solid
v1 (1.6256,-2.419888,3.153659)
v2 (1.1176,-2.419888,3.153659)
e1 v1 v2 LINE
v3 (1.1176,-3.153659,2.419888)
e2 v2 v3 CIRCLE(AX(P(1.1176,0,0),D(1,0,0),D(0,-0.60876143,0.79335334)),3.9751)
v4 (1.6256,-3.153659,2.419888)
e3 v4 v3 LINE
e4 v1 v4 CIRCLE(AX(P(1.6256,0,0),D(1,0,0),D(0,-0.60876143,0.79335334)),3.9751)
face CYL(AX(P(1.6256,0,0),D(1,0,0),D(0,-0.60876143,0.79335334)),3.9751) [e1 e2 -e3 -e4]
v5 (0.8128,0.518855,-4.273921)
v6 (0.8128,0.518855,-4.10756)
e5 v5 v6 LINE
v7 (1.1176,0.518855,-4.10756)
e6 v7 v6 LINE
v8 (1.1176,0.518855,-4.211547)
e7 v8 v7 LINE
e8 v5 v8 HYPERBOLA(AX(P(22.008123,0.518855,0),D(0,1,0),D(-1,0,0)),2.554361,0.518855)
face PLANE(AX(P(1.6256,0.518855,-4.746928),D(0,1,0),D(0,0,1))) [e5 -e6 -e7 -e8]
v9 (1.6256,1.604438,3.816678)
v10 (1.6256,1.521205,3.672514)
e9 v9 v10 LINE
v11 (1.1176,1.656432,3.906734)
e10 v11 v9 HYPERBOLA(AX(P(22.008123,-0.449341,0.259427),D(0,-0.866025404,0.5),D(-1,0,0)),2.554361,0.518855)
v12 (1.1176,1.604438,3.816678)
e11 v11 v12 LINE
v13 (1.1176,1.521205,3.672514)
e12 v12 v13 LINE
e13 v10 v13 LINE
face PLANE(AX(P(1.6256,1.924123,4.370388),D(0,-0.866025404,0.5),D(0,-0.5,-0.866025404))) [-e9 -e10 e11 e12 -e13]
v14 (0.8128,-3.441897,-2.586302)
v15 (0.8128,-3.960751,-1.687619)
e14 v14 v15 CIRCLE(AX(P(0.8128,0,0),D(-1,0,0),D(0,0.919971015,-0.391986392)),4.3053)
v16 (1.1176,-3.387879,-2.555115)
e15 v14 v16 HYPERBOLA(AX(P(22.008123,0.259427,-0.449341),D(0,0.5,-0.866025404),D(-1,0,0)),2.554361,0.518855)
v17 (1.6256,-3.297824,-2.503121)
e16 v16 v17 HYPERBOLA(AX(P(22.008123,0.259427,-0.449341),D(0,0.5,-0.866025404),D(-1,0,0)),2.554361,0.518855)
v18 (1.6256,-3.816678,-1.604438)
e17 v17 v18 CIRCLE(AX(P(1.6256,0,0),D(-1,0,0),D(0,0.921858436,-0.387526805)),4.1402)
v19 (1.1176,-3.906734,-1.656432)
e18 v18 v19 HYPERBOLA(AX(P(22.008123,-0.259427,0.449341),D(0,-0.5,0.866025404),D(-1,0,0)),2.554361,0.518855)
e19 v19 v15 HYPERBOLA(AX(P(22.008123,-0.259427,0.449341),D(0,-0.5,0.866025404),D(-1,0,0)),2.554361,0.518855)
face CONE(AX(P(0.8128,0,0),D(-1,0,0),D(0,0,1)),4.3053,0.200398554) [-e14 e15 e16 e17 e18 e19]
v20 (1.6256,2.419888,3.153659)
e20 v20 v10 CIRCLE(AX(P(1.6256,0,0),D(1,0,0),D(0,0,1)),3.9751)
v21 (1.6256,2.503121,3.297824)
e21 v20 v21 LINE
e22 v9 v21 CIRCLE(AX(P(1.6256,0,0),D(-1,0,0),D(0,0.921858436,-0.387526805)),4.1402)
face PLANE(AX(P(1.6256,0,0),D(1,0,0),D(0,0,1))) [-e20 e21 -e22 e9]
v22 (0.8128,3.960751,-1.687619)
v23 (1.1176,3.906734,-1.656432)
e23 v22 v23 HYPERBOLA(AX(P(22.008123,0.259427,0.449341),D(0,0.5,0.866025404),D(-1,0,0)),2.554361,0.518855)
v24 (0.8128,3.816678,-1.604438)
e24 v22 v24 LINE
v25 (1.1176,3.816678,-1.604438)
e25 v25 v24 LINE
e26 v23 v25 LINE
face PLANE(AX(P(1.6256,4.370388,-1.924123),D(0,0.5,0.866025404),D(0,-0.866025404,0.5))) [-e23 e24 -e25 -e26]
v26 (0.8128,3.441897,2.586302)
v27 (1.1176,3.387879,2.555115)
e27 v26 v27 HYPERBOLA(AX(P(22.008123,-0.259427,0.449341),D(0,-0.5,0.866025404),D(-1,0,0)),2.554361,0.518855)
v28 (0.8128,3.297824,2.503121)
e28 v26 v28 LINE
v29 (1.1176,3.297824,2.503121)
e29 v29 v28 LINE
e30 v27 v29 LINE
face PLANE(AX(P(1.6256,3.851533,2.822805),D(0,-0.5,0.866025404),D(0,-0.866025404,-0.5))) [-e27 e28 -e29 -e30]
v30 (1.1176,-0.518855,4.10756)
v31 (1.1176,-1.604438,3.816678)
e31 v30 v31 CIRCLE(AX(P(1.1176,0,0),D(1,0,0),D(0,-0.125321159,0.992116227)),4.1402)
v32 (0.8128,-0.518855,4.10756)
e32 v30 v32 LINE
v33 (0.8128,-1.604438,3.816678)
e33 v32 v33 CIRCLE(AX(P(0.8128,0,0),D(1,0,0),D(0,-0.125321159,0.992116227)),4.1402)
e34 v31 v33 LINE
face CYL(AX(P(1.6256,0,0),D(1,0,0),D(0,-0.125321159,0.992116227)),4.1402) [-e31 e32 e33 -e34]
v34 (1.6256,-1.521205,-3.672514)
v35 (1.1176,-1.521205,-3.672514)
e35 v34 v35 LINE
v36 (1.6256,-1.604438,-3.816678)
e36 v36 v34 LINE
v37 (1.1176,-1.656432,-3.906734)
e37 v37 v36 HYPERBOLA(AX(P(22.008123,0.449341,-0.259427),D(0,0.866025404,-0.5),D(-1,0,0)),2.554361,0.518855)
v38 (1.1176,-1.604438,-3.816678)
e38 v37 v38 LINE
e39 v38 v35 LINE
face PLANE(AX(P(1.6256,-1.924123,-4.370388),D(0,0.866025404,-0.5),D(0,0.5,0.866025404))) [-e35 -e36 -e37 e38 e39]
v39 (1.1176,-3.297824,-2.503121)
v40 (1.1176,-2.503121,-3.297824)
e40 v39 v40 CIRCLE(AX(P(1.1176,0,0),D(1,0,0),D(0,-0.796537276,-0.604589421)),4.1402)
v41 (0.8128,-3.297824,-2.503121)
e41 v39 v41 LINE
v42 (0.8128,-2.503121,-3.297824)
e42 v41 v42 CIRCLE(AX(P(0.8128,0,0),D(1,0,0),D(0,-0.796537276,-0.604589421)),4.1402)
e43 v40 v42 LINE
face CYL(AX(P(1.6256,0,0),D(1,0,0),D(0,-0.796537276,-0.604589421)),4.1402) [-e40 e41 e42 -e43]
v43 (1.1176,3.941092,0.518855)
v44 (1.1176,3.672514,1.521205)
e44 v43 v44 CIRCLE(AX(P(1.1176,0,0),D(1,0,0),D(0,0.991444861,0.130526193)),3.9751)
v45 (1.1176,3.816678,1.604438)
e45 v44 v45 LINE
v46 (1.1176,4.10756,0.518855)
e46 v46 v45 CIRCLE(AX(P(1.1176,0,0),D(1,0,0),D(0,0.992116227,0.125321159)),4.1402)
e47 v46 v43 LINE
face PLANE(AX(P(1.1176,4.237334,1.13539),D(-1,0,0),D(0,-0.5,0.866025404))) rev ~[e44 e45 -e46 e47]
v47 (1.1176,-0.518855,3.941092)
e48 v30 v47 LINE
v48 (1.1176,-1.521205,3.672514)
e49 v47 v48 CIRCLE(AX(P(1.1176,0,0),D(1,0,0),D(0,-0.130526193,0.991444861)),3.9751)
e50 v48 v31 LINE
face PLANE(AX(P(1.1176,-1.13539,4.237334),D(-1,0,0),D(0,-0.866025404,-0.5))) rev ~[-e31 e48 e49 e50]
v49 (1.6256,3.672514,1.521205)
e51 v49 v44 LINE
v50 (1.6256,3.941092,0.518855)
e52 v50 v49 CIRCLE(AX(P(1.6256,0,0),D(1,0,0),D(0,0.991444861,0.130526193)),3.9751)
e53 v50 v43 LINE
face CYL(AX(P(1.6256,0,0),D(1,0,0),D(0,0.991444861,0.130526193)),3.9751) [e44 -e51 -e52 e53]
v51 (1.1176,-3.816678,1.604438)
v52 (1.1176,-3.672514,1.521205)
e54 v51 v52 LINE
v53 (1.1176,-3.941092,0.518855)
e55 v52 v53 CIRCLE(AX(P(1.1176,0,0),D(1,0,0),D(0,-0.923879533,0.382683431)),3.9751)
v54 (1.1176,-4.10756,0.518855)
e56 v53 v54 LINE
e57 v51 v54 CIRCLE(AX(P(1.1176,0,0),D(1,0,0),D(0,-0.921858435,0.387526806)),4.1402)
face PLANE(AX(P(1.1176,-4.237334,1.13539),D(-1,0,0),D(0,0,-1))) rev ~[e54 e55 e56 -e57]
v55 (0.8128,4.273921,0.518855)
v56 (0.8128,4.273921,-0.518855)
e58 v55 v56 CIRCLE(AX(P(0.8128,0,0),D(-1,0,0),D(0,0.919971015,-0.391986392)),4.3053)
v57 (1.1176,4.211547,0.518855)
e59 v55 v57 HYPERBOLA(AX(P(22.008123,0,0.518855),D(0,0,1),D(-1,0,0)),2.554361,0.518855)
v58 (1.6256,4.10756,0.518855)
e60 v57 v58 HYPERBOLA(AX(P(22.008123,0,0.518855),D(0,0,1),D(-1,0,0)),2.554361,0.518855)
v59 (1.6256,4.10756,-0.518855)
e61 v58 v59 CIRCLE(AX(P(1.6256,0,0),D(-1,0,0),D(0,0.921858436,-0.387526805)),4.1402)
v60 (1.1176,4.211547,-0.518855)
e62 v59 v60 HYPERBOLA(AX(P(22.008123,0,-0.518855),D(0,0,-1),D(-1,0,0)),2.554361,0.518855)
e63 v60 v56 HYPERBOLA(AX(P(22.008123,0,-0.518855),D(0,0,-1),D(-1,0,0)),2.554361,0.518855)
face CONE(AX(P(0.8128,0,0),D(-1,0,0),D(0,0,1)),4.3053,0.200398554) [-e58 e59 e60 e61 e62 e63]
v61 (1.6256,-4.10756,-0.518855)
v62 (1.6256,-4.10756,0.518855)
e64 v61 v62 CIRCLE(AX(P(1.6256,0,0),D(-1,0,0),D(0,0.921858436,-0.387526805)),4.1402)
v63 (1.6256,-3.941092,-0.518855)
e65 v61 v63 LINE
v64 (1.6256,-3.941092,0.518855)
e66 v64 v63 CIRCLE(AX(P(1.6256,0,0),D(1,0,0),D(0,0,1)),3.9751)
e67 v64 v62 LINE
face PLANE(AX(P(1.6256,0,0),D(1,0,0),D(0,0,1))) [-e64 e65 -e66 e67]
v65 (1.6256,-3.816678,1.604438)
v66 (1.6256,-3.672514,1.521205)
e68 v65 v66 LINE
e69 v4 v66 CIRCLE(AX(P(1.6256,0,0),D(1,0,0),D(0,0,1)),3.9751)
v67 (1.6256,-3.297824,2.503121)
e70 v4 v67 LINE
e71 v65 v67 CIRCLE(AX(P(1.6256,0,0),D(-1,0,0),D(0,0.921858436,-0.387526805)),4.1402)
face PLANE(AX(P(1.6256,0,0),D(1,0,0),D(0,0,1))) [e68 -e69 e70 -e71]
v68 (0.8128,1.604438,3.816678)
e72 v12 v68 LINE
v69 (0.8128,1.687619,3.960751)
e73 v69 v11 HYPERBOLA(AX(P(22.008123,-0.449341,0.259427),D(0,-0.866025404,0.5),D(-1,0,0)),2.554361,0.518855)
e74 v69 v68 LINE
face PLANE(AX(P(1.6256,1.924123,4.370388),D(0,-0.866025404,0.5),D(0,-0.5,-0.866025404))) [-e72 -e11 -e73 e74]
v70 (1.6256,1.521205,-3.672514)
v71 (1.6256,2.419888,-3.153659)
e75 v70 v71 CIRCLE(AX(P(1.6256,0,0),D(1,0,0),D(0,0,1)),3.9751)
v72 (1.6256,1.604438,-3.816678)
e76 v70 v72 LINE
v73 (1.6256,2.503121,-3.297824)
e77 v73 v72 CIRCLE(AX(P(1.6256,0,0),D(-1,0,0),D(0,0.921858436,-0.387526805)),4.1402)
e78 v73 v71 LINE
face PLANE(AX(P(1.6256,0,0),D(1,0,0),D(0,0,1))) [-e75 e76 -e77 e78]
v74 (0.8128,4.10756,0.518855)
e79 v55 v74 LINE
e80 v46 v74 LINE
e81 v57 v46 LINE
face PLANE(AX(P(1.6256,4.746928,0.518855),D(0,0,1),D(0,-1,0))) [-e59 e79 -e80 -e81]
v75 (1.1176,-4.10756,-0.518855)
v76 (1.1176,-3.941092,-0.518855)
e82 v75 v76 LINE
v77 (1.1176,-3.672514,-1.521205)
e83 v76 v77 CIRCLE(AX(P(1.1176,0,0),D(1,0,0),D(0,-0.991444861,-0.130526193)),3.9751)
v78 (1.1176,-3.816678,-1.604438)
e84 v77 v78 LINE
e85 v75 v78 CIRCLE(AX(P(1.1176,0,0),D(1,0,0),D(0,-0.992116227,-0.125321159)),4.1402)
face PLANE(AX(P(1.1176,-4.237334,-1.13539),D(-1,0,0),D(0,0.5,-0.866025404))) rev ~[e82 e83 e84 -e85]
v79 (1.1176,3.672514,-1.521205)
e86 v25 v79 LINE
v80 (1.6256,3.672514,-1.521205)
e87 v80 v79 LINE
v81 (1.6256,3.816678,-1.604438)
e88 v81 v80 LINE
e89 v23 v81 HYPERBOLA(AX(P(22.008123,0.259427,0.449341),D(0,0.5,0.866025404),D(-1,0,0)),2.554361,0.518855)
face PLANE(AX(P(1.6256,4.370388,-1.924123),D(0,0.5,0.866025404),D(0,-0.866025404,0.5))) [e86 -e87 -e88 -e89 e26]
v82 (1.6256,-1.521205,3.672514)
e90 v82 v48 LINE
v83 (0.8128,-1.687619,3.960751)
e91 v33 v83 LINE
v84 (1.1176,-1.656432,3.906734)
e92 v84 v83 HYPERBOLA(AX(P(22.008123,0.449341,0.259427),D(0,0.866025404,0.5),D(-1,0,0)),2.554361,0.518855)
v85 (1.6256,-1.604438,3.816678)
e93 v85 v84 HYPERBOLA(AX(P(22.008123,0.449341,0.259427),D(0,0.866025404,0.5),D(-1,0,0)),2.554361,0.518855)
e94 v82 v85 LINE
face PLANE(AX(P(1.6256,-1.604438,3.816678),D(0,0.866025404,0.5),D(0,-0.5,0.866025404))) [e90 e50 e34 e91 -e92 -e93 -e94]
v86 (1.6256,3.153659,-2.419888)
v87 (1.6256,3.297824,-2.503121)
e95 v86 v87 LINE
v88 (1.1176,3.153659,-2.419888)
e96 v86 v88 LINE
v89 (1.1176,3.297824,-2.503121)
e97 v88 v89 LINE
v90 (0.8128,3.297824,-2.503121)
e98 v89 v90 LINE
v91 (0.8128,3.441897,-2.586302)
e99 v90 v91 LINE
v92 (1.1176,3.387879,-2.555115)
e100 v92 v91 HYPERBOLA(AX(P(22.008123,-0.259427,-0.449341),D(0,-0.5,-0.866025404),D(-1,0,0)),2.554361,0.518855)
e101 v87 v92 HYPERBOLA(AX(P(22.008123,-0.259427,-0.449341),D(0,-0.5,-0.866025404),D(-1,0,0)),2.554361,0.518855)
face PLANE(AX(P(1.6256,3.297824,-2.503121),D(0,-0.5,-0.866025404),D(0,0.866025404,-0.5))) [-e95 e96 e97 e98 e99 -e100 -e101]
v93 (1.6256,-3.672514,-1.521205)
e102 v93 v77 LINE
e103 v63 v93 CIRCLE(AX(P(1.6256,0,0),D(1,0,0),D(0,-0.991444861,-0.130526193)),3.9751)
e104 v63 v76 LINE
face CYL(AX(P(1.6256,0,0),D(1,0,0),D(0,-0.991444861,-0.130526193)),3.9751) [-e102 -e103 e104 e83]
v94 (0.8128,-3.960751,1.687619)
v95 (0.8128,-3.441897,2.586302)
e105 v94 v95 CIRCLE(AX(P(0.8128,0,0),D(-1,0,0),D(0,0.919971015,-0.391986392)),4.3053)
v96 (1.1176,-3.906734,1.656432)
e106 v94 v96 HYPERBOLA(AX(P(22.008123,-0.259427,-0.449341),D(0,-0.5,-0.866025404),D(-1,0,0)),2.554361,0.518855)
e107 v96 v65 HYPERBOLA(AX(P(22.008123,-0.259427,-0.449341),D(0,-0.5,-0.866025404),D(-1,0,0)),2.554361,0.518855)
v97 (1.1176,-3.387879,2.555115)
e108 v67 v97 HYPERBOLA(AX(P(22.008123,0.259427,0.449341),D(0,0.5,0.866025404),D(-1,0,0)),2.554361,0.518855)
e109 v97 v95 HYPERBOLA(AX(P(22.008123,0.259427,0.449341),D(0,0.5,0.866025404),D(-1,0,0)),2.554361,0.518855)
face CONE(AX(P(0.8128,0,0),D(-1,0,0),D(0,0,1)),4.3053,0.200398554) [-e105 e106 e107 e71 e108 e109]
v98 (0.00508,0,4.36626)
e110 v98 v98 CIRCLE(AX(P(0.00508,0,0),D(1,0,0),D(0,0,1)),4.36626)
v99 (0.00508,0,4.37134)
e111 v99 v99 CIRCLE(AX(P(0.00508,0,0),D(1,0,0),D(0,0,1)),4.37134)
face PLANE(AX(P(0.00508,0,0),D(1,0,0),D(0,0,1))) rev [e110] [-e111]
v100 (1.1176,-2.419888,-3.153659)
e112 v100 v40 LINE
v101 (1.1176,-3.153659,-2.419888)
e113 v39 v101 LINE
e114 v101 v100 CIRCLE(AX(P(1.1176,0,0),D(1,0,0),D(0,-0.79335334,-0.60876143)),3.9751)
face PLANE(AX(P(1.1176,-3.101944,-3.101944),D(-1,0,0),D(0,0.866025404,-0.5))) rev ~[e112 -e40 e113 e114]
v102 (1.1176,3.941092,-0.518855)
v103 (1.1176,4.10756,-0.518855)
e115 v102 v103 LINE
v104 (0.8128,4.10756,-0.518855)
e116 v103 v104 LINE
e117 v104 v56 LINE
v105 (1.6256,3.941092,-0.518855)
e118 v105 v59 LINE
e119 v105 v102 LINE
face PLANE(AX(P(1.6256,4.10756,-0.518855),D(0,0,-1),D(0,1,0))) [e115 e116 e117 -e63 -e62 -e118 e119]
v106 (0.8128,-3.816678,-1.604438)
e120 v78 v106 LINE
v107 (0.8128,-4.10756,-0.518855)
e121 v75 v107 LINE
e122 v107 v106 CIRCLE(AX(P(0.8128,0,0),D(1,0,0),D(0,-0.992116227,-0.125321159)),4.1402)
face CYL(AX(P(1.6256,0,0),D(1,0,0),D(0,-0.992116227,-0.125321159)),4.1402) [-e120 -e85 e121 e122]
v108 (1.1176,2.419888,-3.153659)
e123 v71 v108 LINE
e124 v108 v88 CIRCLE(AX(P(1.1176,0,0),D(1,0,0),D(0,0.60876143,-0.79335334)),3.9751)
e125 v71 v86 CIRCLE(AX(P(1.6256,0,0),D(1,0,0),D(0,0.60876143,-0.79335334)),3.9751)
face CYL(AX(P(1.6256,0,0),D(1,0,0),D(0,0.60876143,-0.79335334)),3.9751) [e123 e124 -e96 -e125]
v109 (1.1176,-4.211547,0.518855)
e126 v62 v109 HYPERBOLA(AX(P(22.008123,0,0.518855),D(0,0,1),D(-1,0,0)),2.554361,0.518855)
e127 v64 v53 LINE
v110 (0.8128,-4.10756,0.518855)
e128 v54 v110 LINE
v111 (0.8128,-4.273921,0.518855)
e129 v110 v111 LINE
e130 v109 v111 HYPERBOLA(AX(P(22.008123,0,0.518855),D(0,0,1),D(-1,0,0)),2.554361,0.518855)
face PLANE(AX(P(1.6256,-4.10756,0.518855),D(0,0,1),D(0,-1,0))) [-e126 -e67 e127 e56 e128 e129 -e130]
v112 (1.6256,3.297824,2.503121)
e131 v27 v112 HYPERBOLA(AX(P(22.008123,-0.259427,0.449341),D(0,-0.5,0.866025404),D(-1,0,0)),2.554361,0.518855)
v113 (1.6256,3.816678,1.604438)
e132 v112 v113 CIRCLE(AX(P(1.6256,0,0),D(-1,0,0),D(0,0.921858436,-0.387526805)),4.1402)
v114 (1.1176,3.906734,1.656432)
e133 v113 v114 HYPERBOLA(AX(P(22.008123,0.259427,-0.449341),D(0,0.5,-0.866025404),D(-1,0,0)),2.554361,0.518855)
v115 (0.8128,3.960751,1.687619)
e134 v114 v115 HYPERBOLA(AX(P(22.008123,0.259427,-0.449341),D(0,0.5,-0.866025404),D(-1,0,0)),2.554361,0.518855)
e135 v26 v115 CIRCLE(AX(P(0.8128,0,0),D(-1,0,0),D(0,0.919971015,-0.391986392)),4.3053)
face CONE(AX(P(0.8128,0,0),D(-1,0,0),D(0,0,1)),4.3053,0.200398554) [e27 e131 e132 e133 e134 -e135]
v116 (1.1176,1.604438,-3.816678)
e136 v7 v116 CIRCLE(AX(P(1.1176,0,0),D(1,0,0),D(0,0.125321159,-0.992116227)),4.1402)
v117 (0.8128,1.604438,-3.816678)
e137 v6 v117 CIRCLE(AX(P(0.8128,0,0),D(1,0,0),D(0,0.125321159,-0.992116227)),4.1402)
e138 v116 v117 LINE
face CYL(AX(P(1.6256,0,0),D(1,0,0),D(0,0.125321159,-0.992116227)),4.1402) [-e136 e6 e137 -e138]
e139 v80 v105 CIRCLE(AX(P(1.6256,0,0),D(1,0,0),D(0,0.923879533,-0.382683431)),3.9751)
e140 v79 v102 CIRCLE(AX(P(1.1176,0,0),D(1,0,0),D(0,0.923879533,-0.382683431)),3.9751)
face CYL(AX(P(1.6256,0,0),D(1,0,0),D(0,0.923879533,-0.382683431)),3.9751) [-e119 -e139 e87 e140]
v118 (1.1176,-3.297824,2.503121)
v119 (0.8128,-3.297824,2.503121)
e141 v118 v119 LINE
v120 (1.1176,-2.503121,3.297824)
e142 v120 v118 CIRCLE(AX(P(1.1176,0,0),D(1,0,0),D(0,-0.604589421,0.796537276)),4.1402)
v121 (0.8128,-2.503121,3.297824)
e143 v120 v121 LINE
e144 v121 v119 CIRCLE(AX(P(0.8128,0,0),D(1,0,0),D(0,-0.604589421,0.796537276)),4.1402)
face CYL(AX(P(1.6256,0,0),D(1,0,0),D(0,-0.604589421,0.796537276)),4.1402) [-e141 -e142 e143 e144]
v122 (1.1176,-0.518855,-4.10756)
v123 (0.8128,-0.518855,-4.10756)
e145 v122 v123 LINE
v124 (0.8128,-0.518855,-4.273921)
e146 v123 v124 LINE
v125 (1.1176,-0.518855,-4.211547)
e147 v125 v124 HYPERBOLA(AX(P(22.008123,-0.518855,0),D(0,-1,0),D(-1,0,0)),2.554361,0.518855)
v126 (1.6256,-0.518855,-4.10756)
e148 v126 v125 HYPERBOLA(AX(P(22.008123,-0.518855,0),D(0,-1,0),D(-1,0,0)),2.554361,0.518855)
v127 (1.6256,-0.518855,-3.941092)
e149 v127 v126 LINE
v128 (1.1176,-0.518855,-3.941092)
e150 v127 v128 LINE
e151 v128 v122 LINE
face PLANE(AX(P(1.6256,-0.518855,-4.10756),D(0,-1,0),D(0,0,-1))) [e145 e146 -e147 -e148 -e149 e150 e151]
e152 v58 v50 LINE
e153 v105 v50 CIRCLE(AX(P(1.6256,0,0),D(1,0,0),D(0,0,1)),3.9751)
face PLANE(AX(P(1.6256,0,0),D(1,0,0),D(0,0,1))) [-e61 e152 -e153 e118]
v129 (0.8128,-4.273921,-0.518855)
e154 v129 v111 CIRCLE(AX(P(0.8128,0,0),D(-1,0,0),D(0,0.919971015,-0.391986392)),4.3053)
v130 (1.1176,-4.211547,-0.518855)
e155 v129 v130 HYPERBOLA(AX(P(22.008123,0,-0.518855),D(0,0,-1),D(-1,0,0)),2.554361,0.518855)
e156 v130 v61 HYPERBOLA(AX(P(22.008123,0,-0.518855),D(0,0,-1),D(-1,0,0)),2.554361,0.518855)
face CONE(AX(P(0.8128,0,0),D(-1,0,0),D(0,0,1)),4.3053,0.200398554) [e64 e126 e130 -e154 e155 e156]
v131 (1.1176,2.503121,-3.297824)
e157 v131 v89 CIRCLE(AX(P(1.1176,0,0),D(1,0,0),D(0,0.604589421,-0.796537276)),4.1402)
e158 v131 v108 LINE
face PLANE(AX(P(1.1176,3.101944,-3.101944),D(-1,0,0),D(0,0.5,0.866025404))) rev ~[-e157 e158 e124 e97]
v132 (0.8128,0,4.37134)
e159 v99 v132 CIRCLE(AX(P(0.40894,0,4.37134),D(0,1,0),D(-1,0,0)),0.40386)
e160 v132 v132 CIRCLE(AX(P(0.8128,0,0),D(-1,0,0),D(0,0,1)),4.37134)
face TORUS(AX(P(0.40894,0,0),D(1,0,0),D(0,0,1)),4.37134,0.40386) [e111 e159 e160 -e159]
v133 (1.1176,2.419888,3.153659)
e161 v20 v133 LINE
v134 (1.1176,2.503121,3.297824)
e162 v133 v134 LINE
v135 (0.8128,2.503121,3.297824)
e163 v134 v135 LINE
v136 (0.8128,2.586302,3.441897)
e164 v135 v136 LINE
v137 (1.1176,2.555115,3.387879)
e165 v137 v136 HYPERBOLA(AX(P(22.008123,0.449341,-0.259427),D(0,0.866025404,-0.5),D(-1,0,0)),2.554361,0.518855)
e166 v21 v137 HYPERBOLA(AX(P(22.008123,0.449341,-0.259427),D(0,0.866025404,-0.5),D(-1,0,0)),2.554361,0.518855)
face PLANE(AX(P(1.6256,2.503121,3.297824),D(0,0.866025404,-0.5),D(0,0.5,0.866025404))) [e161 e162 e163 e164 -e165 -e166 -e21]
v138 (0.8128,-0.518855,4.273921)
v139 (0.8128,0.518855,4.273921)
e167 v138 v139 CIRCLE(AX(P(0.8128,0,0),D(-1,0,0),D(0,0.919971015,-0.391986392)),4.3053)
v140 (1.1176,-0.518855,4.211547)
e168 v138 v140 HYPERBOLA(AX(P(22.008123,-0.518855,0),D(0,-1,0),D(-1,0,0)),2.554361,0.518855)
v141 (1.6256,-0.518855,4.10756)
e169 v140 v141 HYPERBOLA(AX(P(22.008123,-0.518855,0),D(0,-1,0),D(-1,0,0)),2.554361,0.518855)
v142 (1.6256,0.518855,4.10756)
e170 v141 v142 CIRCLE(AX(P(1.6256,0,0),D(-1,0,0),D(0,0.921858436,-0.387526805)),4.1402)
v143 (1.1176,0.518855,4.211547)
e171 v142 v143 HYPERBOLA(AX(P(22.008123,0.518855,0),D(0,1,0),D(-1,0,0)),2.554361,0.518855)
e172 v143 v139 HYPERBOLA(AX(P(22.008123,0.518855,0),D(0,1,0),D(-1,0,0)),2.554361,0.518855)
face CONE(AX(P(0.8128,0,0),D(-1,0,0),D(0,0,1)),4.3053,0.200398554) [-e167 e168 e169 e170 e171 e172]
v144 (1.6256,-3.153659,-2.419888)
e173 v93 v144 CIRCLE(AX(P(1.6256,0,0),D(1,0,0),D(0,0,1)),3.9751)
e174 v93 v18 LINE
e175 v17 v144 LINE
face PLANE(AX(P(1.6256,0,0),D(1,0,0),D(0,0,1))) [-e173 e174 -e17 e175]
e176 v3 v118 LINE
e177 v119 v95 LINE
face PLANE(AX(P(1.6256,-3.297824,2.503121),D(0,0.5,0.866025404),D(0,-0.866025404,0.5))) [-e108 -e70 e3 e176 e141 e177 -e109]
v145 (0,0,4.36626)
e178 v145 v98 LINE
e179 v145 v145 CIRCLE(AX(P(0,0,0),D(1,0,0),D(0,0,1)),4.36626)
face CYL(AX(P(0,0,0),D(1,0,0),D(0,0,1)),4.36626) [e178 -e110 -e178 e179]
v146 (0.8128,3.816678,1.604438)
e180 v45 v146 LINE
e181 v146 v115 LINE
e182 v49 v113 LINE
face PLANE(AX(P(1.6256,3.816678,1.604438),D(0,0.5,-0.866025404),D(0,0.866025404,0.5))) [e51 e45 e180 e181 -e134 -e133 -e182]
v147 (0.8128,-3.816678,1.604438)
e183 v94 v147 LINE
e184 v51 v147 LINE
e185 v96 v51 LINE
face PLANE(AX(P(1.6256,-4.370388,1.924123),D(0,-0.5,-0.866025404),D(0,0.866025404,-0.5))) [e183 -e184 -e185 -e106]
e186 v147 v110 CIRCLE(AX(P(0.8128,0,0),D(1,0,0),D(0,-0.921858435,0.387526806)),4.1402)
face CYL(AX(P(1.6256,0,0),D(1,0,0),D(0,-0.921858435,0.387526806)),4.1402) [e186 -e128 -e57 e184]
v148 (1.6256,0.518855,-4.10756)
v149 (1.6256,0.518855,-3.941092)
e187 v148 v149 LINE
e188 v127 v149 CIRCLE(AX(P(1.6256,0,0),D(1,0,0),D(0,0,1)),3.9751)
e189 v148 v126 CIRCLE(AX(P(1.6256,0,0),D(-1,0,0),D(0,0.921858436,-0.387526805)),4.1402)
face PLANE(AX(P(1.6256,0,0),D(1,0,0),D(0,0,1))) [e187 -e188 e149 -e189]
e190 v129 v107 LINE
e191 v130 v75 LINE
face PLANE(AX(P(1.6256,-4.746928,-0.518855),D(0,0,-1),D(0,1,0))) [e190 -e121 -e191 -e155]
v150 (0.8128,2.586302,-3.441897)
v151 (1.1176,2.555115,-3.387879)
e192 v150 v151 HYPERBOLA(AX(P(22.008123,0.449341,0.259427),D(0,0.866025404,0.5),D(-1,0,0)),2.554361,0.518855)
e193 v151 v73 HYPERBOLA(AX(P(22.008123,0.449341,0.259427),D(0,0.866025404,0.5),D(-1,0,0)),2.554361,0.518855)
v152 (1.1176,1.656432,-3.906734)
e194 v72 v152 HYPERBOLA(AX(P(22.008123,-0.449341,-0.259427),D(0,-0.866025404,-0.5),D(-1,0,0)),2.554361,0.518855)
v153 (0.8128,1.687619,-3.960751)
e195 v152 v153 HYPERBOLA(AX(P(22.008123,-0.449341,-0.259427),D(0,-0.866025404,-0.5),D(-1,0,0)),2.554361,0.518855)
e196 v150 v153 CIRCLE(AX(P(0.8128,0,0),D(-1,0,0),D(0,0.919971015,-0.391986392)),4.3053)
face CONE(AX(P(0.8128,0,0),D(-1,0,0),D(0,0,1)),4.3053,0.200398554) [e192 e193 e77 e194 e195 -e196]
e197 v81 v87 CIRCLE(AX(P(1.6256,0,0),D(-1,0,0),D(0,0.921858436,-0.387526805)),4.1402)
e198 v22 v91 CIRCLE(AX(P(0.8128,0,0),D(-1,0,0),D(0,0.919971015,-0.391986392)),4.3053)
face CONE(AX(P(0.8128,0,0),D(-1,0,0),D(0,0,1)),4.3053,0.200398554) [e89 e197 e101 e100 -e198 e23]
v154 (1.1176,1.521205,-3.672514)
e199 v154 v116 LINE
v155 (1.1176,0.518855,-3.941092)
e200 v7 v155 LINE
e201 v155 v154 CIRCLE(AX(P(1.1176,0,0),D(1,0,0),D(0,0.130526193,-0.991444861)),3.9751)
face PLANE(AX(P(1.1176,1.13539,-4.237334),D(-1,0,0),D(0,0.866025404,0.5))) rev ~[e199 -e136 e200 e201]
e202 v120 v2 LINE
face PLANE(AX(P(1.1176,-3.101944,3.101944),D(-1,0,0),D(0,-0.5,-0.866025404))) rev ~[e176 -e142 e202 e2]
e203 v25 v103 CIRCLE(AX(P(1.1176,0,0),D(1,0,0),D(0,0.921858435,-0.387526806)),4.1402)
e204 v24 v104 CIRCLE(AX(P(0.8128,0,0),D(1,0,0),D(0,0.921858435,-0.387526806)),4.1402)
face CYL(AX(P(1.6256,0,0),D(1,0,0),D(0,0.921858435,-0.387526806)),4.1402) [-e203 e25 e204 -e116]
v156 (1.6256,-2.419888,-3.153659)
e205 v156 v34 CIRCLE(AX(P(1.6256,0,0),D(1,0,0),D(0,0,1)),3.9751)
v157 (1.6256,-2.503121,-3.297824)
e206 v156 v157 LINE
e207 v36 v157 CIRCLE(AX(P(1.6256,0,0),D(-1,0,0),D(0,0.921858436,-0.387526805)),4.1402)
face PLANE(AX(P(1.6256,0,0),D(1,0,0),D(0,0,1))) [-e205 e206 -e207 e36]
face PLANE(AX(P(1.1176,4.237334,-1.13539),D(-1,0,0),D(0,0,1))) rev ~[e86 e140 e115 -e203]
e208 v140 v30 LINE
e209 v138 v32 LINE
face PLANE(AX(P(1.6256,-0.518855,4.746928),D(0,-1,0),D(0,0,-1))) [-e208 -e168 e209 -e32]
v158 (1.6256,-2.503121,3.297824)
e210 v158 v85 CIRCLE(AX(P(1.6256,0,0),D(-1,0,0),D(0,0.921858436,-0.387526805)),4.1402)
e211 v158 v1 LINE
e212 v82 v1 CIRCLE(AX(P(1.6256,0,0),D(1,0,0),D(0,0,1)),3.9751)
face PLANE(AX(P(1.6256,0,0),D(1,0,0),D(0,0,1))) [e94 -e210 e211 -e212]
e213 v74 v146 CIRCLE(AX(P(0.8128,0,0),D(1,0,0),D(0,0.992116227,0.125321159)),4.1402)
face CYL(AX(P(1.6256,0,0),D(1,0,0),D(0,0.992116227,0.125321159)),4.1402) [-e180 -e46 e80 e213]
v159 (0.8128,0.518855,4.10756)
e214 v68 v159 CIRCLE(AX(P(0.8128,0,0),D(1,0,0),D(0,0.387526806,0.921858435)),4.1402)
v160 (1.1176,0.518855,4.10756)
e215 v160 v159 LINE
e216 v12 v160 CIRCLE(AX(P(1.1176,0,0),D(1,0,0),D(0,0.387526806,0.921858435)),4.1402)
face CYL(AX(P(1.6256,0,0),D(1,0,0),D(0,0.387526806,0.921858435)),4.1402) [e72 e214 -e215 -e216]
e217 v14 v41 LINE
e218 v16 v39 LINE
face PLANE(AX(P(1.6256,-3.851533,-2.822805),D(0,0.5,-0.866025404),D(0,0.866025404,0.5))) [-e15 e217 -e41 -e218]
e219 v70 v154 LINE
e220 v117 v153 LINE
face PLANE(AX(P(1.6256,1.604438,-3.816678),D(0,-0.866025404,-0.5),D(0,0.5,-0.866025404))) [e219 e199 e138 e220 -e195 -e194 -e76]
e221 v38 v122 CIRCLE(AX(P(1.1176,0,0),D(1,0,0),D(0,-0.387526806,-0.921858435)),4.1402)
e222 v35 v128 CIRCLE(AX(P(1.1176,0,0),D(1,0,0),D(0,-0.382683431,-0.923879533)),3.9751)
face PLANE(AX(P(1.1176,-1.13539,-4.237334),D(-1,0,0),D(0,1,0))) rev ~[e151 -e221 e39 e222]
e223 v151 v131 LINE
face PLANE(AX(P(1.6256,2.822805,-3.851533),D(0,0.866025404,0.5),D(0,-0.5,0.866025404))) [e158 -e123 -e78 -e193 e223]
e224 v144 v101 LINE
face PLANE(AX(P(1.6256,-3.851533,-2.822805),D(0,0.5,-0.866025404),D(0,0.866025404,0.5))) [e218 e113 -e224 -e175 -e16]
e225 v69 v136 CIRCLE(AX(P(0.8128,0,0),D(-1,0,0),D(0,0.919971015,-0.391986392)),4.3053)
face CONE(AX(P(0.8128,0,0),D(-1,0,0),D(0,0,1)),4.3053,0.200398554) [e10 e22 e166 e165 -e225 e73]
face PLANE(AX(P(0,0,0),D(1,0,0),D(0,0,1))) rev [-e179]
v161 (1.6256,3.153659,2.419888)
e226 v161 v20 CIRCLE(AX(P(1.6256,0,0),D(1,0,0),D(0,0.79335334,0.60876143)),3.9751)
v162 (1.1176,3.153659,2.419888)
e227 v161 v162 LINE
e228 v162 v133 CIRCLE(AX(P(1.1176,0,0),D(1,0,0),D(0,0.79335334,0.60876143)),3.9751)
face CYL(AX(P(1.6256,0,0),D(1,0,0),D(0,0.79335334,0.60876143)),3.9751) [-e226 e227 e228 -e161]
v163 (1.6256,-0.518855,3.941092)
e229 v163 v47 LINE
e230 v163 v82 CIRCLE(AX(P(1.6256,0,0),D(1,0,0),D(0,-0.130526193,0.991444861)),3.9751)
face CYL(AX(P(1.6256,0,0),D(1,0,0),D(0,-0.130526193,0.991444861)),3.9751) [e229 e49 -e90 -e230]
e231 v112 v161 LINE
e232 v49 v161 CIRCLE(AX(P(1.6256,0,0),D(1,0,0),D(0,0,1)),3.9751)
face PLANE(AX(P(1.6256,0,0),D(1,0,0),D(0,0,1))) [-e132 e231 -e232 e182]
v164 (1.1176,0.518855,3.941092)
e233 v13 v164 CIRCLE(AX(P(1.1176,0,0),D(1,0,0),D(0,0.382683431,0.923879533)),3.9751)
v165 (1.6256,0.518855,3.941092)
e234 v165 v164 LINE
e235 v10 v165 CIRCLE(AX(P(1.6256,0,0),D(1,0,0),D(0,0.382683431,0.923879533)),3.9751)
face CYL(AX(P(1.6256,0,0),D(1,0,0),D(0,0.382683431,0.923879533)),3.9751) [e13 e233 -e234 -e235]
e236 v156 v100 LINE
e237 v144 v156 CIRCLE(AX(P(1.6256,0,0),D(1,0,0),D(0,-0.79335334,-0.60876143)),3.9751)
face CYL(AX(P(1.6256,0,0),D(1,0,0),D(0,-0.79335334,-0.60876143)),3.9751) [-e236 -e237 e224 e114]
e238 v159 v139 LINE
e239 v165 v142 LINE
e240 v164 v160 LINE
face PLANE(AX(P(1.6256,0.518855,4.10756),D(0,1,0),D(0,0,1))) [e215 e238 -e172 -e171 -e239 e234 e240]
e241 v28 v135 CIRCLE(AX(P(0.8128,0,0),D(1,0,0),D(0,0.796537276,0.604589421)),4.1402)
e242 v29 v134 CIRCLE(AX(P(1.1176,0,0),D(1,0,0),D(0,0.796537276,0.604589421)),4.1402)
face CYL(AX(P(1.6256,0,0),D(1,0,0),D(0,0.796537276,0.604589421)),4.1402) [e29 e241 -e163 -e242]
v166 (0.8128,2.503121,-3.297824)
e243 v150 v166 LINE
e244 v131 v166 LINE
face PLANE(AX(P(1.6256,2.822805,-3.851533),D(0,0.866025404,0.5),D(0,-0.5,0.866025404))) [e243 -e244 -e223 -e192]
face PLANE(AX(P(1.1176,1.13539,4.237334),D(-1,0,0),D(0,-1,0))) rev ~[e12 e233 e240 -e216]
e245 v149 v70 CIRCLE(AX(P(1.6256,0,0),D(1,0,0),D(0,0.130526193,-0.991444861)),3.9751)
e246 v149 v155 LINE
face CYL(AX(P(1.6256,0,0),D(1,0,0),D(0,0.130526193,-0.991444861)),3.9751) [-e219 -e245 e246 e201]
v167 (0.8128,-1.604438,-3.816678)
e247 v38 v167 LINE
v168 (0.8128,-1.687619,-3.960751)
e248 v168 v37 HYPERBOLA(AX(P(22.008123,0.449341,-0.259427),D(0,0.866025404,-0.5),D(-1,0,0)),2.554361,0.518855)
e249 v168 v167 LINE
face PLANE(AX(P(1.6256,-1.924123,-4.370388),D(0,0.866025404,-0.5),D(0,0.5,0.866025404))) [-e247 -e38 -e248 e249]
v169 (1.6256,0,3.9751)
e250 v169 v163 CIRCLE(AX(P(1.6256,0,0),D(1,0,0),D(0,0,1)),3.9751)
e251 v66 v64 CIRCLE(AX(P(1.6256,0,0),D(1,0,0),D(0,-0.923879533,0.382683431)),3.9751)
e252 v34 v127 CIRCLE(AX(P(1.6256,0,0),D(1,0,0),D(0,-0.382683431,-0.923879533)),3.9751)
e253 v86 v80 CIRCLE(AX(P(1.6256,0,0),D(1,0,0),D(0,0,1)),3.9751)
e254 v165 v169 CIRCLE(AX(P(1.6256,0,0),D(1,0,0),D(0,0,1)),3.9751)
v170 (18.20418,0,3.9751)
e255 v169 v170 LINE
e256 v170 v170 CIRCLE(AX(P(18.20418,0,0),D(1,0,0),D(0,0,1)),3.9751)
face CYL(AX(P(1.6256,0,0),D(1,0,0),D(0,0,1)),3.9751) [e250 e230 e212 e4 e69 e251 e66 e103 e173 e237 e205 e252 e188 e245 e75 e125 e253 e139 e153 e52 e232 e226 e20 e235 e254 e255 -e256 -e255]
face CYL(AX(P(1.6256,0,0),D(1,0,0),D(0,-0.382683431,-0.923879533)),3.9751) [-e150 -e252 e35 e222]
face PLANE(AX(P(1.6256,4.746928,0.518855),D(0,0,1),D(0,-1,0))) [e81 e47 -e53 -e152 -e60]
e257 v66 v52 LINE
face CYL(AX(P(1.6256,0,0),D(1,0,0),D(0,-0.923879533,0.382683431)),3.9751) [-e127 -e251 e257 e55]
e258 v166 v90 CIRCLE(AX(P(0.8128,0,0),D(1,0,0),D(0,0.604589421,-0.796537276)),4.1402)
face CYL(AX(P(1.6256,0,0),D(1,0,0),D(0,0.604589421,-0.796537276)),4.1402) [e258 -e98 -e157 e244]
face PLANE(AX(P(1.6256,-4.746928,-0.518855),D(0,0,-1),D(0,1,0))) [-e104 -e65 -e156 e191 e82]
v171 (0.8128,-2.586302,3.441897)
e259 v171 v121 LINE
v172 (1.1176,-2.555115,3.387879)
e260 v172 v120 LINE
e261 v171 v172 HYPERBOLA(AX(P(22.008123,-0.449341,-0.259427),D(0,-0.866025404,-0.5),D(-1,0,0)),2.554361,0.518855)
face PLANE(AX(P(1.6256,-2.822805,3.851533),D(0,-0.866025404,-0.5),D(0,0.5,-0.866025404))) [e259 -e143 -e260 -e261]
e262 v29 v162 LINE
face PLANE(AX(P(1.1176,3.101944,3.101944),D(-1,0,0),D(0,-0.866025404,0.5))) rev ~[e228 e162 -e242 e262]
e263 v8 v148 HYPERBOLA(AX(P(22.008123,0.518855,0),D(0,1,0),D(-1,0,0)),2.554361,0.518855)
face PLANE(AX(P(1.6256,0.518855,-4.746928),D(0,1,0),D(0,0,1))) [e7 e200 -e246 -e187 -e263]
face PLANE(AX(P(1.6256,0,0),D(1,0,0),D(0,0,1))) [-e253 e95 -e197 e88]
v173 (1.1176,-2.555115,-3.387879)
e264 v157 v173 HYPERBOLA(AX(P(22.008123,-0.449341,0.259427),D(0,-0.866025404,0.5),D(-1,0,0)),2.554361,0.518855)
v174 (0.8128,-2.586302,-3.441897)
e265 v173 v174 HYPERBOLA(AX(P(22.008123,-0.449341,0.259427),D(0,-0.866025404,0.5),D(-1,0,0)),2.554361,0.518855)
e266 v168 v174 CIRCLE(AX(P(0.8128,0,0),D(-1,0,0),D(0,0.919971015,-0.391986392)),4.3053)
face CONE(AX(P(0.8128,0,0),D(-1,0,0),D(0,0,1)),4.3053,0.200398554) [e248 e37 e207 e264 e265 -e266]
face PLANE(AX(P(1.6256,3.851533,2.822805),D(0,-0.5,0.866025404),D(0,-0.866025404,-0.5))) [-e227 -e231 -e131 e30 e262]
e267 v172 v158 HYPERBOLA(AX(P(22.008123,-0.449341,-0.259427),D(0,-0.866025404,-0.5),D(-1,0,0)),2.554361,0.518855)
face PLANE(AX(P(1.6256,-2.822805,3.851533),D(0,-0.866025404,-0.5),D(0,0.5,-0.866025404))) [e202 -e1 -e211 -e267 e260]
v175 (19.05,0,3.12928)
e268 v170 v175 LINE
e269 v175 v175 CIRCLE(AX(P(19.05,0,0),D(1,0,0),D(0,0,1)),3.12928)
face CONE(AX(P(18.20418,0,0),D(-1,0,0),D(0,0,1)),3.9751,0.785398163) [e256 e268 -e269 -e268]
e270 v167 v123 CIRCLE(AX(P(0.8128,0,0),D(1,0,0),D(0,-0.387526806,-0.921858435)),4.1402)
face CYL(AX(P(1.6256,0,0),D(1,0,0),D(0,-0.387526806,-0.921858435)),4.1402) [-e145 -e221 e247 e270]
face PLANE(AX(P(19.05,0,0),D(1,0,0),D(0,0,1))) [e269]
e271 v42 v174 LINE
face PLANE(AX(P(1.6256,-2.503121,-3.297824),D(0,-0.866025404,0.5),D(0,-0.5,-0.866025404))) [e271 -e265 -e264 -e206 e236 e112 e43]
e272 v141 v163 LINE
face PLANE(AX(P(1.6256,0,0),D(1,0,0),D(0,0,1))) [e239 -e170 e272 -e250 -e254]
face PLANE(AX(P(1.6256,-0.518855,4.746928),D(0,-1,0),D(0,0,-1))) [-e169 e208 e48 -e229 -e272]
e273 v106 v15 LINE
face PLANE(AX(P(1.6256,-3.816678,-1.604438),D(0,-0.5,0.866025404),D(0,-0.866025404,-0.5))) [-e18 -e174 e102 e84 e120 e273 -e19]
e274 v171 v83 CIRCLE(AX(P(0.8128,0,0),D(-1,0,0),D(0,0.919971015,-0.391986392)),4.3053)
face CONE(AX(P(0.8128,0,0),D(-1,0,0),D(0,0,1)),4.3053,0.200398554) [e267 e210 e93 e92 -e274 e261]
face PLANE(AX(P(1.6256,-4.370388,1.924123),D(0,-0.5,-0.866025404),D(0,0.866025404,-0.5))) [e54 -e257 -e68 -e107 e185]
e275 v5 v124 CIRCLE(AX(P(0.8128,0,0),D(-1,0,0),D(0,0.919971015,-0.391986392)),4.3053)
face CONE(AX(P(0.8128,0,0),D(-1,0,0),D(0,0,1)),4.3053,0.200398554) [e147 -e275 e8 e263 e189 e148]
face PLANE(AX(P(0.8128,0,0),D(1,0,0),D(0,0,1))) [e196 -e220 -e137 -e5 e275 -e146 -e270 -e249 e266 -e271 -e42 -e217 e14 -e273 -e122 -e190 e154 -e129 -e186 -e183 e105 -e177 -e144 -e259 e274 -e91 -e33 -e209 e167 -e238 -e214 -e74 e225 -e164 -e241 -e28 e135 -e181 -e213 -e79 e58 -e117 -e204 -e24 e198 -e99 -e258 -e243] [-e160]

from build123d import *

# Parameters (mm, degrees)
RIBCUT1_DEPTH    = 0.508
RIBCUT2_DEPTH    = 0.8128
RIBCUTSPAT_COUNT = 12
RIBCUTSPAT_ANGLE = 330


with BuildPart() as part:
    # BodySke → BaseBody (revolve)
    with BuildSketch(Plane.XY, mode=Mode.PRIVATE) as basebody_sk:
        with BuildLine():
            Line((0, 0), (0, 4.36626))
            Line((0, 4.36626), (0.00508, 4.36626))
            Line((0.00508, 4.36626), (0.00508, 4.37134))
            ThreePointArc((0.00508, 4.37134), (0.40894, 4.7752), (0.8128, 4.37134))
            Line((0.8128, 4.37134), (0.8128, 4.3053))
            Line((0.8128, 4.3053), (1.6256, 4.1402))
            Line((1.6256, 4.1402), (1.6256, 3.9751))
            Line((1.6256, 3.9751), (18.20418, 3.9751))
            Line((18.20418, 3.9751), (19.05, 3.12928))
            Line((19.05, 3.12928), (19.05, 0))
            Line((19.05, 0), (0, 0))
        make_face()
    revolve(basebody_sk.sketch.rotate(Axis((0, 0, 0), (1, 0, 0)), 90), axis=Axis((0, 0, 0), (1, 0, 0)))

    # RibCut1Ske → RibCut1 (cut)
    with BuildSketch(Plane(origin=(1.6256, 0, 0), x_dir=(0, 0, -1), z_dir=(1, 0, 0))):
        with BuildLine():
            Line((0.518854667, 3.941092468), (0.518854667, 4.746927941))
            ThreePointArc((0.518854667, 4.746927941), (1.235912704, 4.612489006), (1.924122648, 4.37038752))
            Line((1.924122648, 4.37038752), (1.521204912, 3.67251353))
            ThreePointArc((1.521204912, 3.67251353), (1.028831586, 3.839651752), (0.518854667, 3.941092468))
        make_face()
    ribcut1 = extrude(amount=-RIBCUT1_DEPTH, mode=Mode.SUBTRACT)

    # RibCut2Ske → RibCut2 (cut)
    with BuildSketch(Plane(origin=(1.6256, 0, 0), x_dir=(0, 0, -1), z_dir=(1, 0, 0))):
        with BuildLine():
            Line((0.518854667, 4.107559601), (0.518854667, 4.746927941))
            ThreePointArc((0.518854667, 4.746927941), (1.235912704, 4.612489006), (1.924122648, 4.37038752))
            Line((1.924122648, 4.37038752), (1.604438478, 3.816678295))
            ThreePointArc((1.604438478, 3.816678295), (1.071562611, 3.999126106), (0.518854667, 4.107559601))
        make_face()
    ribcut2 = extrude(amount=-RIBCUT2_DEPTH, mode=Mode.SUBTRACT)

    # RibCutsPat: RibCut1, RibCut2 ×12 about axis
    ribcutspat_axis = Axis((0, 0, 0), (1, 0, 0))
    add([ribcut1.rotate(ribcutspat_axis, i * RIBCUTSPAT_ANGLE / (RIBCUTSPAT_COUNT - 1)) for i in range(1, RIBCUTSPAT_COUNT)], mode=Mode.SUBTRACT)
    add([ribcut2.rotate(ribcutspat_axis, i * RIBCUTSPAT_ANGLE / (RIBCUTSPAT_COUNT - 1)) for i in range(1, RIBCUTSPAT_COUNT)], mode=Mode.SUBTRACT)


solid = part.part
